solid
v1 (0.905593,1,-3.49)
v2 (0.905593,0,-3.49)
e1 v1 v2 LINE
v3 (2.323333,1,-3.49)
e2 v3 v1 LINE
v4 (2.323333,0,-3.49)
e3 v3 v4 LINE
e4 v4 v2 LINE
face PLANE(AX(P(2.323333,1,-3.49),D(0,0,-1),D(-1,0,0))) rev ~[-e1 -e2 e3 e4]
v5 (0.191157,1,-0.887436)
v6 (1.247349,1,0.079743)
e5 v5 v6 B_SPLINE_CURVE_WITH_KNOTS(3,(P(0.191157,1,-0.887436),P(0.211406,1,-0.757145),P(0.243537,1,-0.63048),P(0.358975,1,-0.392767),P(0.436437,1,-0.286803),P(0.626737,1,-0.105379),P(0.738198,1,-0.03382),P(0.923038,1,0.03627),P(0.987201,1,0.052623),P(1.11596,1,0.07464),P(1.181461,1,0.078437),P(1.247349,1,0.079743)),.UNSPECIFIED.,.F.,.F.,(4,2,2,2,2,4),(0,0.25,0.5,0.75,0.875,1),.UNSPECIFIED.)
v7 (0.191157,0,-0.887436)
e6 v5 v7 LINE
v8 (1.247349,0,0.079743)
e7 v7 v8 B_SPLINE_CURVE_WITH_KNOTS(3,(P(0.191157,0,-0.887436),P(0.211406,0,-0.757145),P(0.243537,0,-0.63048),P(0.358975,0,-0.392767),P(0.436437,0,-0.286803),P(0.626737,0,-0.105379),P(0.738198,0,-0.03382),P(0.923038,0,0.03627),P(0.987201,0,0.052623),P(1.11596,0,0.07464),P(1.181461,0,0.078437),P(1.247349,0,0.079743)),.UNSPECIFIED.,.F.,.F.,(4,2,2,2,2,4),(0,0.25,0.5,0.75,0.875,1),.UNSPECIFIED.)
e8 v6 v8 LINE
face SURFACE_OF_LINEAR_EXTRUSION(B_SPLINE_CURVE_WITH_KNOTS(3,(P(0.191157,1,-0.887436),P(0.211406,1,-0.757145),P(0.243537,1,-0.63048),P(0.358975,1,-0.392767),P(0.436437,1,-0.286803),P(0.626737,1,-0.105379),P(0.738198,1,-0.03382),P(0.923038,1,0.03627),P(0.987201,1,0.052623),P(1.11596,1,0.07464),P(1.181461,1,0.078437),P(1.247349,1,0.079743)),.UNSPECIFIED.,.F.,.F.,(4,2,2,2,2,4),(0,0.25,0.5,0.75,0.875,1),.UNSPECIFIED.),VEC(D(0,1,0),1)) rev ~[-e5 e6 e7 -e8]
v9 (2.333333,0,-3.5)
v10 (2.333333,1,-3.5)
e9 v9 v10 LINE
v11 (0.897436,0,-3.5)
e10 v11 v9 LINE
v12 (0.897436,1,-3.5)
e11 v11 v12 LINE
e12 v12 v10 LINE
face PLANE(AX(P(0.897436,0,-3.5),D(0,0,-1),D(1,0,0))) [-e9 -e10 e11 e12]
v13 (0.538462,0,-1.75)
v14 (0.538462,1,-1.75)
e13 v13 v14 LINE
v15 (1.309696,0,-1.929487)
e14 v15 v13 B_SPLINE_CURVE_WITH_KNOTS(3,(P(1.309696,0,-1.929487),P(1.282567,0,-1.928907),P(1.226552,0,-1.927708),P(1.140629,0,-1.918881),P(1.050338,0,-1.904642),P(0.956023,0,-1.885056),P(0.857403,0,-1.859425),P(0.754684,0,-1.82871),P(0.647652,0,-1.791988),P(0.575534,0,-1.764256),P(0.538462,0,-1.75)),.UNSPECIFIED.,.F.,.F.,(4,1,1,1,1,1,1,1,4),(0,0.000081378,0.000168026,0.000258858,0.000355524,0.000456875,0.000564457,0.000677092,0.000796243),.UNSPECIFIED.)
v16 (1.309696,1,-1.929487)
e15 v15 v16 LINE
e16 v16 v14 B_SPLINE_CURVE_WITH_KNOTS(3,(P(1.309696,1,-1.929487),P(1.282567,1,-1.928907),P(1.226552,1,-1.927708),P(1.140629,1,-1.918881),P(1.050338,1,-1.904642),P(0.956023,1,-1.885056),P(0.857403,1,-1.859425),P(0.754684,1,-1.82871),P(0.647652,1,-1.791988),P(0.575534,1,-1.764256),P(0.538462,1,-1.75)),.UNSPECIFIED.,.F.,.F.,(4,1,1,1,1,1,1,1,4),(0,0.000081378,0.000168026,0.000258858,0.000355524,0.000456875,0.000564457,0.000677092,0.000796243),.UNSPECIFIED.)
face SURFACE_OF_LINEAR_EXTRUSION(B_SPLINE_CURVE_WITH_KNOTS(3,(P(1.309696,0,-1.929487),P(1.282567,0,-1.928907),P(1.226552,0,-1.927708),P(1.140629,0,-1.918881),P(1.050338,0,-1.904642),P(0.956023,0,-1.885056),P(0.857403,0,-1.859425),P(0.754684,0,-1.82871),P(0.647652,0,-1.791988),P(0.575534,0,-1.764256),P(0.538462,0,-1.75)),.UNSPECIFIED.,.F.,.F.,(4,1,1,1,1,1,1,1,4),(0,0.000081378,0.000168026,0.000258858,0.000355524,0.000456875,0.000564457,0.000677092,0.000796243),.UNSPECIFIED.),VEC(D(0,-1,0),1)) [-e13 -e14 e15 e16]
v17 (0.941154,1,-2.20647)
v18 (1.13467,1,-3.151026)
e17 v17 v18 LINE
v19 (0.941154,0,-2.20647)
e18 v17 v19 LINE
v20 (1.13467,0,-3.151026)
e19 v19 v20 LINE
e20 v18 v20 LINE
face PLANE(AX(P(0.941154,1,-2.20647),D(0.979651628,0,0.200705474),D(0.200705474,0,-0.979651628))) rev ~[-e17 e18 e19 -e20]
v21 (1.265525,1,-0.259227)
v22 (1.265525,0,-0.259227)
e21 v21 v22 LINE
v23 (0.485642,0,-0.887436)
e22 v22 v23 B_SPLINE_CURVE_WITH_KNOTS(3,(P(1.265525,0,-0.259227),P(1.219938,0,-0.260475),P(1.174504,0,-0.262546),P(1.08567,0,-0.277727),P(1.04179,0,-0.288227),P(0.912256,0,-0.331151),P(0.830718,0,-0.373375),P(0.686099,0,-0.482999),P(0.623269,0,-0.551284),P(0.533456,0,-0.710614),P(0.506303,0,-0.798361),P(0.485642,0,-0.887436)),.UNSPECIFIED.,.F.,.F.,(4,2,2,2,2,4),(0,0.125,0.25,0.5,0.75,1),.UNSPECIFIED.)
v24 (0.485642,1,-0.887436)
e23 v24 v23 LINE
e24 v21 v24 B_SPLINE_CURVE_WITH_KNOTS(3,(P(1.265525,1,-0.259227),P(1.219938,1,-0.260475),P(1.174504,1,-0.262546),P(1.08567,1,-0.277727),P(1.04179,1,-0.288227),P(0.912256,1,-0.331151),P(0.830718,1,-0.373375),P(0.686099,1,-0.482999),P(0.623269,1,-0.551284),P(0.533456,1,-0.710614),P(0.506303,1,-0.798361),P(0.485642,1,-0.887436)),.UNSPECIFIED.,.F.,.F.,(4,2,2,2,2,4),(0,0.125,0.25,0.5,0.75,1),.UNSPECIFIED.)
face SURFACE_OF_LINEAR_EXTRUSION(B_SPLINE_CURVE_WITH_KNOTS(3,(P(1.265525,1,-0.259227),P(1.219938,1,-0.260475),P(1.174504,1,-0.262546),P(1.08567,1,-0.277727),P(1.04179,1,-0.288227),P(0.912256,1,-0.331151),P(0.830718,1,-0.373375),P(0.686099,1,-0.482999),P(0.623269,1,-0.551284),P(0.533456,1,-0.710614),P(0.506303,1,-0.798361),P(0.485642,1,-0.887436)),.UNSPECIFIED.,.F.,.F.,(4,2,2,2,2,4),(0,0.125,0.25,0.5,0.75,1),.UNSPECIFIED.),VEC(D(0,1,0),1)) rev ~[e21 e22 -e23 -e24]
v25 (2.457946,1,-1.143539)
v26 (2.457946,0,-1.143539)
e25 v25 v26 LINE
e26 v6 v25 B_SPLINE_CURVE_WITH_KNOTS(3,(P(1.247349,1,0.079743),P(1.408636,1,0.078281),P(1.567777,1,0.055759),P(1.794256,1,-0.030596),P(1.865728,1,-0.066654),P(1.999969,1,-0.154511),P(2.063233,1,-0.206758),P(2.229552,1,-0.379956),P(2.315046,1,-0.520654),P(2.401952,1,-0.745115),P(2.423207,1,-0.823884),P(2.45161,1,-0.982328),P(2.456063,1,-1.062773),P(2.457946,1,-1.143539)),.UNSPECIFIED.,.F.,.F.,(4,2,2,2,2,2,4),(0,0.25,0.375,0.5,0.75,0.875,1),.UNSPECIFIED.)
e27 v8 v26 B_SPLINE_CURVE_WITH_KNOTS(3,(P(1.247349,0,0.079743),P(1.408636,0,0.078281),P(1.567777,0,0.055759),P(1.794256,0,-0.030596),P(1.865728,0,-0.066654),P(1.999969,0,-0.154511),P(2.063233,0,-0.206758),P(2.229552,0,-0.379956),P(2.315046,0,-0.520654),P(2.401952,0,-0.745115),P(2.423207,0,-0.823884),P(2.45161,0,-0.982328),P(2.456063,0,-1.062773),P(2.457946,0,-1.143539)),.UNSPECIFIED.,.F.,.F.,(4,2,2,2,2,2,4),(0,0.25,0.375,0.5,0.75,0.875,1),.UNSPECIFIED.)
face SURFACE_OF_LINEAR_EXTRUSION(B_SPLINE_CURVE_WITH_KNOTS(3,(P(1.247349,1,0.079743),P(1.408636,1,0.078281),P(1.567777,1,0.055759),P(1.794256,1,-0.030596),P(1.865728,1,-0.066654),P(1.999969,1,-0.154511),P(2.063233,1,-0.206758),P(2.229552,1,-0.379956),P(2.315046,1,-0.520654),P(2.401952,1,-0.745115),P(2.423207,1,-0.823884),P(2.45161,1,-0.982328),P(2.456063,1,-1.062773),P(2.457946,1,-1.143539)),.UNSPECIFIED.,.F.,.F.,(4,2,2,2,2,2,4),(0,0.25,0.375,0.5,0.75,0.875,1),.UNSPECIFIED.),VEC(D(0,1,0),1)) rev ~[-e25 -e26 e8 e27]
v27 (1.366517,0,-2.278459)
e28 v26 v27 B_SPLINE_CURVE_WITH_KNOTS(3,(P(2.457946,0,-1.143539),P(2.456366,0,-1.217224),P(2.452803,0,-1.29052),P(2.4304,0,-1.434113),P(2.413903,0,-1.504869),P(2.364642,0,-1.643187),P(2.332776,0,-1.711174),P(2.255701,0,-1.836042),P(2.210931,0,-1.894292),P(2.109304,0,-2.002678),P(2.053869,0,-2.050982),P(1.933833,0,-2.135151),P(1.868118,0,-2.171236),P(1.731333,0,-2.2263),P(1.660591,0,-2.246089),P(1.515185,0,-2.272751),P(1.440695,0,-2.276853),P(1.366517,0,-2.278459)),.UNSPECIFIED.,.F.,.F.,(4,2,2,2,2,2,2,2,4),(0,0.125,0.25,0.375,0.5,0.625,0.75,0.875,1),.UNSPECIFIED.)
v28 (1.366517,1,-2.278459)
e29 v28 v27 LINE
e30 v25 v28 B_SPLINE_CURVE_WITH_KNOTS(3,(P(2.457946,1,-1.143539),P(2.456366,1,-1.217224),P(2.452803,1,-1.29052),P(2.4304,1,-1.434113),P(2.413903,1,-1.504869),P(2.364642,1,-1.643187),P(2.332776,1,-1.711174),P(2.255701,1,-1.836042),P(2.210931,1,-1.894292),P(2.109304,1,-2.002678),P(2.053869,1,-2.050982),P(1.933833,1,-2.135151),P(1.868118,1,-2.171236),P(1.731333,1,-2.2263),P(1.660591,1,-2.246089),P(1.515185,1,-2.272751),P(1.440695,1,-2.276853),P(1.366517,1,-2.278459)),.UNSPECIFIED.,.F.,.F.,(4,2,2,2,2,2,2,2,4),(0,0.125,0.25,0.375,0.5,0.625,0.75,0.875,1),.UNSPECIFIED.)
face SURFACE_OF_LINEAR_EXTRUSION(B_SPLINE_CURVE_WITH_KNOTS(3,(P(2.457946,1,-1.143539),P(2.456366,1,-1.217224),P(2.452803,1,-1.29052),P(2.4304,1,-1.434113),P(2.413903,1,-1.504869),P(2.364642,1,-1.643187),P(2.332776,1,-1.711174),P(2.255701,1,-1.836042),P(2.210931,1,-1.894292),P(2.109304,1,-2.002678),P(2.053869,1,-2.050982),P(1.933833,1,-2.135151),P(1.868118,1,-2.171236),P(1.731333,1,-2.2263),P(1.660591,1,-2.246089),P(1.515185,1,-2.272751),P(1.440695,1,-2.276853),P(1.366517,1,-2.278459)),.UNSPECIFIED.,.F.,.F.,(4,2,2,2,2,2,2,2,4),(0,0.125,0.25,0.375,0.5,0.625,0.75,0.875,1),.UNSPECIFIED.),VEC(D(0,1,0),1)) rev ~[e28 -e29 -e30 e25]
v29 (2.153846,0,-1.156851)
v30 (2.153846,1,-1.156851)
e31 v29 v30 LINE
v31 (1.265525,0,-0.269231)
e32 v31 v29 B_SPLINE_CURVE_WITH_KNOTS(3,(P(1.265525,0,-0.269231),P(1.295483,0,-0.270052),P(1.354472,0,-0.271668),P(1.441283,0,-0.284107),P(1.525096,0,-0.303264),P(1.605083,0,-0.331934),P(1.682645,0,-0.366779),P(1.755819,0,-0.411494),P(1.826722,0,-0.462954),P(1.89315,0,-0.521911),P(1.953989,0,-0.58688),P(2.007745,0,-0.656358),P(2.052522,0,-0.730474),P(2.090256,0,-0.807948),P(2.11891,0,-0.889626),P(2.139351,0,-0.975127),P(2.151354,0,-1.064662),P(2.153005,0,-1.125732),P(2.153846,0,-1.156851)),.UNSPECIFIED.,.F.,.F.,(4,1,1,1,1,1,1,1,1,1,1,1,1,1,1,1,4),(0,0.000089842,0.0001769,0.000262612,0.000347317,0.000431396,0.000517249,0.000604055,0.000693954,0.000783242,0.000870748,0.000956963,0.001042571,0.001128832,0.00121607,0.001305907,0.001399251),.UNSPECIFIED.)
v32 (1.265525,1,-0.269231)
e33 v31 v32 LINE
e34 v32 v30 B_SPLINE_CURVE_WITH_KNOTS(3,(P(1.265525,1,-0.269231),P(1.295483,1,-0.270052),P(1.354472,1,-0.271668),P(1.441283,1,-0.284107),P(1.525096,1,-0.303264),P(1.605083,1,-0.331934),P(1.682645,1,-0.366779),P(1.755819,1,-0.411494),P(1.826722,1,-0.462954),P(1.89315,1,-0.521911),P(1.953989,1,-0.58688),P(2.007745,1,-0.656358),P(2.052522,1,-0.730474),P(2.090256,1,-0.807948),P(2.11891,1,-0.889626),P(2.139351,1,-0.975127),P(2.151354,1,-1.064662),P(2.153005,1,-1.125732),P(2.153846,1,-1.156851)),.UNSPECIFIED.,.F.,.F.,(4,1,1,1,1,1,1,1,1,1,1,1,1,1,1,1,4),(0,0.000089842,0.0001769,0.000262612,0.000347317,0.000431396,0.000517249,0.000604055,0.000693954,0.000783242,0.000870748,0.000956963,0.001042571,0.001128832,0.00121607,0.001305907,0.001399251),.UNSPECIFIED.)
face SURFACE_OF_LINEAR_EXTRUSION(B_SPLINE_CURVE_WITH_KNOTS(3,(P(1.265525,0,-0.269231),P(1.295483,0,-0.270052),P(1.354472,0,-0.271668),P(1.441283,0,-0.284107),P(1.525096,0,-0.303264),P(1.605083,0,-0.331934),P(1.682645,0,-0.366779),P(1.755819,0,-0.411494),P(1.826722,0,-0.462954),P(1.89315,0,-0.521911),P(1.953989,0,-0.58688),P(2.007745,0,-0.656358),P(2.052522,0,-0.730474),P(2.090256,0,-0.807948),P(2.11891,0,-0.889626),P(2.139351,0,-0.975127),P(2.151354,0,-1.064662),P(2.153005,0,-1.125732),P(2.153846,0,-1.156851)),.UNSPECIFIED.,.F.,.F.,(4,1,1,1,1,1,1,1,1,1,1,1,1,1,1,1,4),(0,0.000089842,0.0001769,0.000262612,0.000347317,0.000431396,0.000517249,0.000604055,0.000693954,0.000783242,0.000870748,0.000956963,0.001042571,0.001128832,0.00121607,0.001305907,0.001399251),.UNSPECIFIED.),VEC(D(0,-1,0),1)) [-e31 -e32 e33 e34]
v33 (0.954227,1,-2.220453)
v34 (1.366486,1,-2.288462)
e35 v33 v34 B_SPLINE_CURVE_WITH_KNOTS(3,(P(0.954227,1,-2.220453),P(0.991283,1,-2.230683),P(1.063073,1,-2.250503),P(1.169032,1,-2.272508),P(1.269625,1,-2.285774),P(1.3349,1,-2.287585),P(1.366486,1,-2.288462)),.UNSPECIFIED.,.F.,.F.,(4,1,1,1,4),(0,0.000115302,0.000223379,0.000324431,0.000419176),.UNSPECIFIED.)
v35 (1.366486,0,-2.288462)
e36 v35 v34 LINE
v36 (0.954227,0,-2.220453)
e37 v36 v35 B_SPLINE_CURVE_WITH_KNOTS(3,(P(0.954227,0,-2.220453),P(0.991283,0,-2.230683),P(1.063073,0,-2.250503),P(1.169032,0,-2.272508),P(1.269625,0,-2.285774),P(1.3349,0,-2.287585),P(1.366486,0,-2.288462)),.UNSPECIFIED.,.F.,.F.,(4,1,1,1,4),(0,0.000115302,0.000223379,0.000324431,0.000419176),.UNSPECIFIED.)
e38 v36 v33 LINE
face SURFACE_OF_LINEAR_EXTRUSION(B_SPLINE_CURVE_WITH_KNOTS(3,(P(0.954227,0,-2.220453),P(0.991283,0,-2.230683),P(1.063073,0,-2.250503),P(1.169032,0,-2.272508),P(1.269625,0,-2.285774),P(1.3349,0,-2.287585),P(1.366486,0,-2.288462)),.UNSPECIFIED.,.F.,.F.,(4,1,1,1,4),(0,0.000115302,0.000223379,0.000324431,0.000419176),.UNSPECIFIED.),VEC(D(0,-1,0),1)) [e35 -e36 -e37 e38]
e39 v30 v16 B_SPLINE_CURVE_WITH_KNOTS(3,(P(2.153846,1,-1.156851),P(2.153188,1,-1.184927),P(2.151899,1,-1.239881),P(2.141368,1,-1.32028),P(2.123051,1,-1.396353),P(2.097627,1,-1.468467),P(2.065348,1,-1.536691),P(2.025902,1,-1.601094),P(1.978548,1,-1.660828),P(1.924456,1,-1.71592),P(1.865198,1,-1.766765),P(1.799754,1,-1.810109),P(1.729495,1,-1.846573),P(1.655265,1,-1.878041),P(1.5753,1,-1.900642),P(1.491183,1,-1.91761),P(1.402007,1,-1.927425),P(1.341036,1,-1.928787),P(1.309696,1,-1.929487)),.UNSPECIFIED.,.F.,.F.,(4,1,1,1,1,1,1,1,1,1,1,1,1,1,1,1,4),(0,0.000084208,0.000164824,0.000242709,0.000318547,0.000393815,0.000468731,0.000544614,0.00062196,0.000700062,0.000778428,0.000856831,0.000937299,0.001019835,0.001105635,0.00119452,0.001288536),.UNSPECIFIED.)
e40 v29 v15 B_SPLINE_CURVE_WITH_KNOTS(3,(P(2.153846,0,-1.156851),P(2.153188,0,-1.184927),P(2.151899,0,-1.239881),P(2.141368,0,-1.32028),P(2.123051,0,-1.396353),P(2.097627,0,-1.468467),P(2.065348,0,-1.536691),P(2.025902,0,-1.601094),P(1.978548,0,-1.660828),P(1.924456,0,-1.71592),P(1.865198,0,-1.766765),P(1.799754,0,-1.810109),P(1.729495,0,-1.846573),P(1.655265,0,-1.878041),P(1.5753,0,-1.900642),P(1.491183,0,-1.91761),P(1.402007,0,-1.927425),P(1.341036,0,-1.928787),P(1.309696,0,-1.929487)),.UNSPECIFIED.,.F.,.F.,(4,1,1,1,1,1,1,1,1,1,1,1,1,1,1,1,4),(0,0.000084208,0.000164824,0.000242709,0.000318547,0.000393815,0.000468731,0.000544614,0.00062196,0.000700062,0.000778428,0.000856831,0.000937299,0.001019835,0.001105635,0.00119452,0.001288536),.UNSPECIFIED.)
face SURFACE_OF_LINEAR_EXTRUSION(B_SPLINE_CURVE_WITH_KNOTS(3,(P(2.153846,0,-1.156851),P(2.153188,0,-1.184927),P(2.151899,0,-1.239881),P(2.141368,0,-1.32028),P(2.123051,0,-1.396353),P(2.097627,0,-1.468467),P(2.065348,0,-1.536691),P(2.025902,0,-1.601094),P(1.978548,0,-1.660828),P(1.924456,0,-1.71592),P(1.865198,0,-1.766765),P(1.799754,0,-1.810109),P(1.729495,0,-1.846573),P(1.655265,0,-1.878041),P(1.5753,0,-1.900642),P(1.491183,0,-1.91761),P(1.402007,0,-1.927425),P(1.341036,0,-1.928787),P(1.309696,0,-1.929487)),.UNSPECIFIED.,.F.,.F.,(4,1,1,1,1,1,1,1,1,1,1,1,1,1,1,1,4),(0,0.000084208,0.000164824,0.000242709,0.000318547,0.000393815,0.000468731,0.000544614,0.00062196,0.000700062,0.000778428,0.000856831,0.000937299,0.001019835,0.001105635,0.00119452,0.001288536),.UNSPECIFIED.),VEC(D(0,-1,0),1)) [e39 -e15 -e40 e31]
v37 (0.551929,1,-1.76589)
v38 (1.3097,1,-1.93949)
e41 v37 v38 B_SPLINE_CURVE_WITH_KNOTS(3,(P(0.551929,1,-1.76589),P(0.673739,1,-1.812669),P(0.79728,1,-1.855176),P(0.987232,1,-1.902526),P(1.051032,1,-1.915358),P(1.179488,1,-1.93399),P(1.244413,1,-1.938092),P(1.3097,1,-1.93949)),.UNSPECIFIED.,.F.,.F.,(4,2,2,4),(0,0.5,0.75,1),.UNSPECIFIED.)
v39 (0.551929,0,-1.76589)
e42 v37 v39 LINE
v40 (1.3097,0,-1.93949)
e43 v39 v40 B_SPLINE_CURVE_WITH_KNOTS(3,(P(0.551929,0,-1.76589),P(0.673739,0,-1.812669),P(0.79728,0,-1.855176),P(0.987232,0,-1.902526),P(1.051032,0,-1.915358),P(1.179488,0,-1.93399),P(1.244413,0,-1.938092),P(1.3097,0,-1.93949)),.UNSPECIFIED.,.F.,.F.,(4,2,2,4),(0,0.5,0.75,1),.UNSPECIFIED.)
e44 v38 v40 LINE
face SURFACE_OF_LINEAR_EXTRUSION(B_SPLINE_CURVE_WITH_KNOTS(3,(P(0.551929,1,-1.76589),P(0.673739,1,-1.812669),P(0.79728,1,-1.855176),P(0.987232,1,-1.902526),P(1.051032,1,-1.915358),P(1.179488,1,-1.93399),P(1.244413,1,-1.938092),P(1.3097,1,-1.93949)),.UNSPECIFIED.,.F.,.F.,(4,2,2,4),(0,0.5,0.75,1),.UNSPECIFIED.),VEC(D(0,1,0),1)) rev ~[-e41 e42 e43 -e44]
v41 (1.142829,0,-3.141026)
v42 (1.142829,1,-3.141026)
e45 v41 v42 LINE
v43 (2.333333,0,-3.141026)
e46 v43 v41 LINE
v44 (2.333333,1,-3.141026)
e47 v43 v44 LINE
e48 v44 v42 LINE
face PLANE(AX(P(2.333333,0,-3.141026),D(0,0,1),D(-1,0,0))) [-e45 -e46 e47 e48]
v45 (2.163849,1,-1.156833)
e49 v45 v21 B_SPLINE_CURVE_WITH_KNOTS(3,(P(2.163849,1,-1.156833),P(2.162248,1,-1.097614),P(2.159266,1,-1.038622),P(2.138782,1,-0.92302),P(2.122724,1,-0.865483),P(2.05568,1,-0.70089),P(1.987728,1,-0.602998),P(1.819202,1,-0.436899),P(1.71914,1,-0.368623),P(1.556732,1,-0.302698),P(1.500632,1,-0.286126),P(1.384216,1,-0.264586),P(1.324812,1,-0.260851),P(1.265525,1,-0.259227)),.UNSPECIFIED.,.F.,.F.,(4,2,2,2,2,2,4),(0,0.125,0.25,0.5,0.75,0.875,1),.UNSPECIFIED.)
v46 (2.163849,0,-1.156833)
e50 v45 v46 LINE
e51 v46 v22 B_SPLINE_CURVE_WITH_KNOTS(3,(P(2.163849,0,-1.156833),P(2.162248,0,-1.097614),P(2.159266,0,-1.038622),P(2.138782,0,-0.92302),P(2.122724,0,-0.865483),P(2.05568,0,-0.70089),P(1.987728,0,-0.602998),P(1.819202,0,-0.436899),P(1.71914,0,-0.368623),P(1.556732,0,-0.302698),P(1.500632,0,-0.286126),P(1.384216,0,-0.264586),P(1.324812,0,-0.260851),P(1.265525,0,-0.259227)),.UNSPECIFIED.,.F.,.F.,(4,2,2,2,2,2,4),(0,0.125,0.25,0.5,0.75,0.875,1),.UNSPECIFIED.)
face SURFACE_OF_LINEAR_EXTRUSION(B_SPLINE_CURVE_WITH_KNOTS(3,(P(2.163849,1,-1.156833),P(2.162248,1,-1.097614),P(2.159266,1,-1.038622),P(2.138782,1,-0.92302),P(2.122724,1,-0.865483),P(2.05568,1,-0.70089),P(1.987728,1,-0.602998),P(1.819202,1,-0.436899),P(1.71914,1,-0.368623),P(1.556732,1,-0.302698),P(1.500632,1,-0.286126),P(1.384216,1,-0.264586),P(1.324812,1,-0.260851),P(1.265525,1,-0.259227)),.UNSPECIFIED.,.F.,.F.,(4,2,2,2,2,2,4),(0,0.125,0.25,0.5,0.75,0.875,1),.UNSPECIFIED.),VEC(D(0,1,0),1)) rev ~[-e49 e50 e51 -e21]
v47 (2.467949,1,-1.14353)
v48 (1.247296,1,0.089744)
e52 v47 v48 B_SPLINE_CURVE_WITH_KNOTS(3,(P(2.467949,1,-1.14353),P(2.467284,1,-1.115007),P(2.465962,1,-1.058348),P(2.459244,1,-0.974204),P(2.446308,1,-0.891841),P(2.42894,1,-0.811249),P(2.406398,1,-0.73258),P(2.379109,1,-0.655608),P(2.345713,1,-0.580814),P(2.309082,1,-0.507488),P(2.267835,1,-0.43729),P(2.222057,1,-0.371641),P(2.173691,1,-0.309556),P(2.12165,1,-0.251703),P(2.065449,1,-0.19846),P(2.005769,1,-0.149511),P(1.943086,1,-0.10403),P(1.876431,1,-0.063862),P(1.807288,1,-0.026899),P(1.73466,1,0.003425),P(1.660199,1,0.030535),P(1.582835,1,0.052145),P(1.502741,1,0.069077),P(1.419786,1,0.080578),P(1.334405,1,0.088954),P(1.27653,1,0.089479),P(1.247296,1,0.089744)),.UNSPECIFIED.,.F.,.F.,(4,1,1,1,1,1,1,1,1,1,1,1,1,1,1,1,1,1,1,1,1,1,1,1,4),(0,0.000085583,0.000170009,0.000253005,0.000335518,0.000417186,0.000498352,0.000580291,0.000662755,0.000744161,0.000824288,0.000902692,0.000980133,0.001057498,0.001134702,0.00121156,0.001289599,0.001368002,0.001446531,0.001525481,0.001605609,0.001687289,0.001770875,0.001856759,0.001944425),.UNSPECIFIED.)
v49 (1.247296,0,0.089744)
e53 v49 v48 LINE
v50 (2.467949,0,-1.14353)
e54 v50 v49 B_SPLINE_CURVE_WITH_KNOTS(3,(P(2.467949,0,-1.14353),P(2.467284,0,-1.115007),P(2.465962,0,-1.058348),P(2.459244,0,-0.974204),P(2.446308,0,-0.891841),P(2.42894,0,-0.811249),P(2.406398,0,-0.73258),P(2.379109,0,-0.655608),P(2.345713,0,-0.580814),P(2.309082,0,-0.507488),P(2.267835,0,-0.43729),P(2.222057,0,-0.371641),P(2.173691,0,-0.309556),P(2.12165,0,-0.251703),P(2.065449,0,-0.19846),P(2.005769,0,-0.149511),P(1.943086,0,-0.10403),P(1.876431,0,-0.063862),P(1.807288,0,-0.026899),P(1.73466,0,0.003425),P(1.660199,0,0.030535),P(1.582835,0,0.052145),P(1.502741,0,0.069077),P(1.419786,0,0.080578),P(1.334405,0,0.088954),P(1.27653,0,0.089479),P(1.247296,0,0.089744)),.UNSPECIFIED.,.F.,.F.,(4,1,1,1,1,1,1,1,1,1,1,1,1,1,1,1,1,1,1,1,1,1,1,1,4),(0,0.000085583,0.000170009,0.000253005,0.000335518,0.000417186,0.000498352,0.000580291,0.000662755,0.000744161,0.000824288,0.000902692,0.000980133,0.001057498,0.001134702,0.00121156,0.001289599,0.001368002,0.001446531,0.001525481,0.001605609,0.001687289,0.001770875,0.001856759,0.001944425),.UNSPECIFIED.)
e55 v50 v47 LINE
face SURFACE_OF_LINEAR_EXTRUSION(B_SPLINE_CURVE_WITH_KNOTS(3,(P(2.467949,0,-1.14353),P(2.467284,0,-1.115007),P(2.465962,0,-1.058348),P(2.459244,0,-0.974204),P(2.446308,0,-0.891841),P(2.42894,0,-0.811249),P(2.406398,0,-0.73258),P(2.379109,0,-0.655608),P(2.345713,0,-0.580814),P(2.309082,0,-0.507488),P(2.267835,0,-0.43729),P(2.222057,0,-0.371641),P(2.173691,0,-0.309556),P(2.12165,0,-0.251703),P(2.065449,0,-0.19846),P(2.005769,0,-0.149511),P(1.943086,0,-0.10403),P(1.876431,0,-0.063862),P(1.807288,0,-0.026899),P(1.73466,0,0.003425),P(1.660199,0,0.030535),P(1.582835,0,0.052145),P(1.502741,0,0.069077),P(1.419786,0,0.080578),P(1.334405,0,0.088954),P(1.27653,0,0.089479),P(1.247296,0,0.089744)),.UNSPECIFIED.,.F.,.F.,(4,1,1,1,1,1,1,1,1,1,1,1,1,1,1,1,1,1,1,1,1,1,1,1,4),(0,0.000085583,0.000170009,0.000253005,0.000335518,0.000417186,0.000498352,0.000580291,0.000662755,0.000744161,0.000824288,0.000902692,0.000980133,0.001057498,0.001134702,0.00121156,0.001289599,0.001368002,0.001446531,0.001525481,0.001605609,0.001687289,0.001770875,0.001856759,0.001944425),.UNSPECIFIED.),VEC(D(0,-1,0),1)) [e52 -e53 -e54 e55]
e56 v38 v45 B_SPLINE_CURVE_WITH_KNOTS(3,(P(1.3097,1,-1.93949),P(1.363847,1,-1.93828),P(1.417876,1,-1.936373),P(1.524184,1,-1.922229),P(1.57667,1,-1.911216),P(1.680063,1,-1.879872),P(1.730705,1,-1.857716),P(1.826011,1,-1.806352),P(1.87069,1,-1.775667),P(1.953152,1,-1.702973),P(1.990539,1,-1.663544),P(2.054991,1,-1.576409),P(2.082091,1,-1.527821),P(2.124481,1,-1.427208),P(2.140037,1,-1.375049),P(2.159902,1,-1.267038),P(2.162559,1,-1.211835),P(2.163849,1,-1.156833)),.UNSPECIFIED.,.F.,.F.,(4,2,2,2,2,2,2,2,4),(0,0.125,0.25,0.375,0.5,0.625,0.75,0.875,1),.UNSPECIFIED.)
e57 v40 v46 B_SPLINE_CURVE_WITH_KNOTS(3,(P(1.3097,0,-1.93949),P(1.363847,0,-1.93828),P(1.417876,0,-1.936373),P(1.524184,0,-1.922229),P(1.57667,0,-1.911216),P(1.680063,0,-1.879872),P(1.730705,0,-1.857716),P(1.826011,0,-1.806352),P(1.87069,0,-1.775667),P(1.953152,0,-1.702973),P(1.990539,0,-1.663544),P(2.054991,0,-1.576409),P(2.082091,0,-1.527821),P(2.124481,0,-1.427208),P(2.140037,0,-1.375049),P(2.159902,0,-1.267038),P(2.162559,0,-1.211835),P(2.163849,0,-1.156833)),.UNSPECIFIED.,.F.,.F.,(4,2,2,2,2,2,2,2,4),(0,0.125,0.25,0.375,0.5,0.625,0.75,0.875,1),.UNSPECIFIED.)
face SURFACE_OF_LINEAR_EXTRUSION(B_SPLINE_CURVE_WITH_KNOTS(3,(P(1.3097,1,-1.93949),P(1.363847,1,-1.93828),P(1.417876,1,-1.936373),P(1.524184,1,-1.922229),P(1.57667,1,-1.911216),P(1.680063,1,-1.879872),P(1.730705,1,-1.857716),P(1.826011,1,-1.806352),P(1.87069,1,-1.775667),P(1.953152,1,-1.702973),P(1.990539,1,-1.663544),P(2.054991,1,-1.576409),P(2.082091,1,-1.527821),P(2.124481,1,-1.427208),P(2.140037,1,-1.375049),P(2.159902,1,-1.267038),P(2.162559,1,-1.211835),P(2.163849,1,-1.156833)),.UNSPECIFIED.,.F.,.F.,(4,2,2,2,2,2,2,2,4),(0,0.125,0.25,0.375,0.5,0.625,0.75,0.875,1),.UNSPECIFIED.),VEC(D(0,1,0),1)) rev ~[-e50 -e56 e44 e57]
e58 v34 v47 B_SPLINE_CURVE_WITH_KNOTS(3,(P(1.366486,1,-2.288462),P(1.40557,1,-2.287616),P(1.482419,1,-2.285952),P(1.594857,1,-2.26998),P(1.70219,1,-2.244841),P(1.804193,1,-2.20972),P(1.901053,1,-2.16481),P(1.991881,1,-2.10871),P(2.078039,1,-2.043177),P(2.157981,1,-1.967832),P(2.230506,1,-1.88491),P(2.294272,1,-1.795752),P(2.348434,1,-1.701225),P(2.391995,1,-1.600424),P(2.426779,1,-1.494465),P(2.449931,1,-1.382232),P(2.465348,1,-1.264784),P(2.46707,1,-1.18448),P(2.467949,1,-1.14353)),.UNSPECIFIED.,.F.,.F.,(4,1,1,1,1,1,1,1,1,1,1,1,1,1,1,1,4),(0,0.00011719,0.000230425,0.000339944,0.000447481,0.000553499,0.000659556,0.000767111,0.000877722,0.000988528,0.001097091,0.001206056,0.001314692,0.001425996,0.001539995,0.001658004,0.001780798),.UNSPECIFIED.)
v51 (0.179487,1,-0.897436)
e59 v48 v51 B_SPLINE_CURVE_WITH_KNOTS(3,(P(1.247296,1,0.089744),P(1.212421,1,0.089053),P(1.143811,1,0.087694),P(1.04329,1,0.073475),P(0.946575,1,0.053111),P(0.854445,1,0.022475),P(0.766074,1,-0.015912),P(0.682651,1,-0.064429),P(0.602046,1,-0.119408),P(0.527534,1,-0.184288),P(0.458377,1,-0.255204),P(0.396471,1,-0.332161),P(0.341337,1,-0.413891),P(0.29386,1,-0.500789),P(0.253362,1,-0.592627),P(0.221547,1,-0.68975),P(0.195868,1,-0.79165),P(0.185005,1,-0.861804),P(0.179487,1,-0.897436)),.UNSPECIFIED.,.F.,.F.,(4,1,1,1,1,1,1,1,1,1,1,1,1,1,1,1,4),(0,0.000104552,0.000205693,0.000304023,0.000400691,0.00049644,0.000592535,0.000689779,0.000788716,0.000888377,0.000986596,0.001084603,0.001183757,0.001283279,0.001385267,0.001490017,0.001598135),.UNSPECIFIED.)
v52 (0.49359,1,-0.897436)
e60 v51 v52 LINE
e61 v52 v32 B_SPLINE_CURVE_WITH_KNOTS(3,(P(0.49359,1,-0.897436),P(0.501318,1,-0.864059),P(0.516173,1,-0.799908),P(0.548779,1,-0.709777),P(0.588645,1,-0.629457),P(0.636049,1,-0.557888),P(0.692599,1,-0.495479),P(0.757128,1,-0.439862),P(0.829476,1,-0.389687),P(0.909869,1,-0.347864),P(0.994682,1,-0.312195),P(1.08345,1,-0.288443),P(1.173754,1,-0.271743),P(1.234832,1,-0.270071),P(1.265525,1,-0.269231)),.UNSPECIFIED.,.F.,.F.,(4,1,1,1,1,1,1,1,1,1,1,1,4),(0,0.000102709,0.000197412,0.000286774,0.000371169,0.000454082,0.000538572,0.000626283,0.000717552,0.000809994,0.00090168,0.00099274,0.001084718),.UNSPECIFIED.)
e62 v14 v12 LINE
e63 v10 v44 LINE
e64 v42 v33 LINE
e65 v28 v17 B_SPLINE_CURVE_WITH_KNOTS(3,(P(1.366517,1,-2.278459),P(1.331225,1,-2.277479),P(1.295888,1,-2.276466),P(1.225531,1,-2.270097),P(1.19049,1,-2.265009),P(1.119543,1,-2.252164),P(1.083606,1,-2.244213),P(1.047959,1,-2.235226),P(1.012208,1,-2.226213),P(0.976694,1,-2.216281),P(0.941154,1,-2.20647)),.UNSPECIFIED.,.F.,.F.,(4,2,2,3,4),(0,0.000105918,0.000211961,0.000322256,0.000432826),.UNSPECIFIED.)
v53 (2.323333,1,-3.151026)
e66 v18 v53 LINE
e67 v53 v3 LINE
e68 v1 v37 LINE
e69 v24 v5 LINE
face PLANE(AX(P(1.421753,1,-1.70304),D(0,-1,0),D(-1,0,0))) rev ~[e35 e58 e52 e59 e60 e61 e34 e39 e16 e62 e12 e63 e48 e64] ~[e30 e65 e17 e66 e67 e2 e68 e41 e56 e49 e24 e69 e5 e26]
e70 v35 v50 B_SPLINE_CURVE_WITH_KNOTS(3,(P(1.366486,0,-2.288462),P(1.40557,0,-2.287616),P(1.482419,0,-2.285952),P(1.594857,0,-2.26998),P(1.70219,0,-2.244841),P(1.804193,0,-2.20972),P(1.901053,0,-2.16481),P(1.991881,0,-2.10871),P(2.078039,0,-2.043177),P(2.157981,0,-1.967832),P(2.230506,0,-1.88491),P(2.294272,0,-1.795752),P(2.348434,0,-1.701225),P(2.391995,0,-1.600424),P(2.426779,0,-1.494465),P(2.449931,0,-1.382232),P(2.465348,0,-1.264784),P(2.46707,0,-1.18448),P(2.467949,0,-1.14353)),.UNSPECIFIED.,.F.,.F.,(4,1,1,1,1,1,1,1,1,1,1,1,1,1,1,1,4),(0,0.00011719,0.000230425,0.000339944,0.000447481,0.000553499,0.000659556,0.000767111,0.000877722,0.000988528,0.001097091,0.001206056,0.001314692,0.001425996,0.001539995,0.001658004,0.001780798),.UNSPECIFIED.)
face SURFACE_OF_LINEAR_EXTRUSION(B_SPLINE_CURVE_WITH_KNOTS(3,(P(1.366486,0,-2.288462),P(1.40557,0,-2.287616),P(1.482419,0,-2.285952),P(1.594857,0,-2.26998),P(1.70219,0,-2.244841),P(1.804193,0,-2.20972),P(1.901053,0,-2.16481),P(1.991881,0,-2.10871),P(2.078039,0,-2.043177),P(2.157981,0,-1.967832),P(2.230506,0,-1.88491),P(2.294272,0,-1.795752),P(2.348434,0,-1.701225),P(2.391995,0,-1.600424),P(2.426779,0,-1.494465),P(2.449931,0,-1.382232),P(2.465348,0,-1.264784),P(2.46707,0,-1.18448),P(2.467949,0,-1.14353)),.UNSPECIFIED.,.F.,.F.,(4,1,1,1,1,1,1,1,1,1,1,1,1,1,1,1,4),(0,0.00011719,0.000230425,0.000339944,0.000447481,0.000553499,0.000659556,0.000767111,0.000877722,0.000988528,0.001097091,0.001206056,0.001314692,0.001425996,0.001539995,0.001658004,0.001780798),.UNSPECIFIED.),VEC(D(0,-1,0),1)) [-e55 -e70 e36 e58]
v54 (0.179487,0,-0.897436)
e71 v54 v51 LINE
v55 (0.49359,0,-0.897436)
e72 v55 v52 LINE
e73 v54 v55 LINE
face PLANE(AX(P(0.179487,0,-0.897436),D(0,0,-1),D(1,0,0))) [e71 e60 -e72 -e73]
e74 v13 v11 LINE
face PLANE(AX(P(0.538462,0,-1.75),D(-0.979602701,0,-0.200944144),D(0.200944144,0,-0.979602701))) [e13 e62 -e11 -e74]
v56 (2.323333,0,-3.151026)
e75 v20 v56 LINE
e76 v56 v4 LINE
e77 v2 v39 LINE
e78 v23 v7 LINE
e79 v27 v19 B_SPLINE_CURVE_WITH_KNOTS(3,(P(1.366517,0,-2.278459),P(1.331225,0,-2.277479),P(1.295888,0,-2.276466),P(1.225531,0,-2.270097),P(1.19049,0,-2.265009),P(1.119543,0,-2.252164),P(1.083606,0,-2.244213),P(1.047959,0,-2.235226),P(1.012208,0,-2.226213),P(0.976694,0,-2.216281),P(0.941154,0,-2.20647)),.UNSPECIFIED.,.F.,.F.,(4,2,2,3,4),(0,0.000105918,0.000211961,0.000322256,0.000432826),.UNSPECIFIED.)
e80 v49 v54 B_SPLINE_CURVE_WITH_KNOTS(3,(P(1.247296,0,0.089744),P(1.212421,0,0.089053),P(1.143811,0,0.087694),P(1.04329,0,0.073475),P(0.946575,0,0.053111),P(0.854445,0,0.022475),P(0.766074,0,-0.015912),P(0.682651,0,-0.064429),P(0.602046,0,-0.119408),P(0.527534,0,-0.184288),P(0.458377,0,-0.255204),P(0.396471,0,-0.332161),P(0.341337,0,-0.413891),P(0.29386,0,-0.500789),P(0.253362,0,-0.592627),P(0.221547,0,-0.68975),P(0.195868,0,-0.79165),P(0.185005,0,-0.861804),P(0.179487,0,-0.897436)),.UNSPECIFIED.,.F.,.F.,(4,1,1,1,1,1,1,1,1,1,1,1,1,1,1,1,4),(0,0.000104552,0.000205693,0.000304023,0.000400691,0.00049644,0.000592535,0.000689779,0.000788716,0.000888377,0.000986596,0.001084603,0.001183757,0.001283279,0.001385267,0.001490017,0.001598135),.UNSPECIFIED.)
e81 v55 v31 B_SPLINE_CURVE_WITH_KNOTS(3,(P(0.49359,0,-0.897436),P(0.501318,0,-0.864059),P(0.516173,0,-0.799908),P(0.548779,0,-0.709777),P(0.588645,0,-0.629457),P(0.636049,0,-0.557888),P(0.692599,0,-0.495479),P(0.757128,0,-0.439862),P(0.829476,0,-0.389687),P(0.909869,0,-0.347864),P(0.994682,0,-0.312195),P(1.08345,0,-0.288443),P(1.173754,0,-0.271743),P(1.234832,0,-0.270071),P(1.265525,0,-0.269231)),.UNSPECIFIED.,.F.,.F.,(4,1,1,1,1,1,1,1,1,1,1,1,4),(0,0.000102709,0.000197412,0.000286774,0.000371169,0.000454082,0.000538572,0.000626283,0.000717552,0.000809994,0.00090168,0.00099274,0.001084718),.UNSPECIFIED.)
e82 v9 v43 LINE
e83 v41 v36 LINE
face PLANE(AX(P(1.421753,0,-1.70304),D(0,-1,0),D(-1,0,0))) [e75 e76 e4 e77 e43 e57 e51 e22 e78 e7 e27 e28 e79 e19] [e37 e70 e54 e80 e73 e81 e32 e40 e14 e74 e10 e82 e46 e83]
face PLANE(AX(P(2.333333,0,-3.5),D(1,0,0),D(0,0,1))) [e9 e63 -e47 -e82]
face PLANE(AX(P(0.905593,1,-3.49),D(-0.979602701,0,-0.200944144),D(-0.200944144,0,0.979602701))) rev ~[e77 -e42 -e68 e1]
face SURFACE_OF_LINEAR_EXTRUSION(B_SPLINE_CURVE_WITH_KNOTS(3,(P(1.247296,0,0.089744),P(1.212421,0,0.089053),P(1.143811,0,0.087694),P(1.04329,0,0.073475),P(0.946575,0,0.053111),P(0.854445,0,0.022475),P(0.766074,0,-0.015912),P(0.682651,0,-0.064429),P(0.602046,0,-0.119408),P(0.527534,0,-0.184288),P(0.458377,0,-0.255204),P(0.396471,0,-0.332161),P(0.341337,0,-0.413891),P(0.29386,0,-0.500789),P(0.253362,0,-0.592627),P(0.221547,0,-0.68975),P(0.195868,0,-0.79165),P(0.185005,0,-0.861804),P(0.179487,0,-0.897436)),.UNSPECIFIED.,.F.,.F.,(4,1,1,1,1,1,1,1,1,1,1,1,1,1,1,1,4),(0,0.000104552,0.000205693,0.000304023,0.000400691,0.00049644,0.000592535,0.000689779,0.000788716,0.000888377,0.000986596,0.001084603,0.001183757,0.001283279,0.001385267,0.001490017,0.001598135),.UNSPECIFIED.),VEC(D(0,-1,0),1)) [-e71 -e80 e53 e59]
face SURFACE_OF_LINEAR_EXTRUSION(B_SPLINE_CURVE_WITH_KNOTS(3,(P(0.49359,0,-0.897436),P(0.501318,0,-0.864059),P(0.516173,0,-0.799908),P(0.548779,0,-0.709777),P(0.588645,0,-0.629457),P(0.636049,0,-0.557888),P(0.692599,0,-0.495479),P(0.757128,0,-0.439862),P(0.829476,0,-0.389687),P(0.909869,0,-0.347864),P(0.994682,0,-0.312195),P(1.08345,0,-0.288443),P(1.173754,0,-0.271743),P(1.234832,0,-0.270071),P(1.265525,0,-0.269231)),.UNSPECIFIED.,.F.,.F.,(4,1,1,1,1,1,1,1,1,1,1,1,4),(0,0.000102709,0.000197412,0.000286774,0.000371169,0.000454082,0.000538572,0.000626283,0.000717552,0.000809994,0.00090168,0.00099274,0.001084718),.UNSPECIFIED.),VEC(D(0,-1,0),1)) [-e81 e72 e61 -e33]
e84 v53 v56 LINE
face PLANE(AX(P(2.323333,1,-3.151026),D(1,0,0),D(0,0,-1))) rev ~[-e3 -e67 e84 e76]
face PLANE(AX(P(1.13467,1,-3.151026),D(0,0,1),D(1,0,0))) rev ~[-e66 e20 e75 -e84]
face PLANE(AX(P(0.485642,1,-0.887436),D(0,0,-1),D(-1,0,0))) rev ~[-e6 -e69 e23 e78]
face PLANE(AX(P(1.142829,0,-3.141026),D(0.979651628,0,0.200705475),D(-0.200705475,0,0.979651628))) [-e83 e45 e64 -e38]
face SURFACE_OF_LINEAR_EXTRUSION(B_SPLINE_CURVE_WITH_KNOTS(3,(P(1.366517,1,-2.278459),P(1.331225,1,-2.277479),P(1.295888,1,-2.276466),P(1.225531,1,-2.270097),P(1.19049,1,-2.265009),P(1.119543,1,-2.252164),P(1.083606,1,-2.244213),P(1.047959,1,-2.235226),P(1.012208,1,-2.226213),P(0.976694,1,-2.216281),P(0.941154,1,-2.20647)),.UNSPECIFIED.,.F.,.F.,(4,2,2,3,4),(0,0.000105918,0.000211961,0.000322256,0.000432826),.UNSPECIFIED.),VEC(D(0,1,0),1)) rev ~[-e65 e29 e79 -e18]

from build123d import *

# Parameters (mm, degrees)
BOSS_EXTRUDE1_DEPTH = 1
CUT_EXTRUDE1_DEPTH  = 1


with BuildPart() as part:
    # Sketch1 → Boss-Extrude1 (new body)
    with BuildSketch(Plane(origin=(0, 0, 0), x_dir=(1, 0, 0), z_dir=(0, 1, 0))):
        with BuildLine():
            Line((2.333333333, 3.5), (2.333333333, 3.141025641))
            Line((2.333333333, 3.141025641), (1.142828526, 3.141025641))
            Line((1.142828526, 3.141025641), (0.954226763, 2.220452724))
            add(Edge.make_bspline(
                [(0.954226763, 2.220452724), (0.991282637, 2.230682996), (1.063072533, 2.25050253), (1.169032394, 2.2725083), (1.269624597, 2.285773744), (1.334899968, 2.287585055), (1.366486378, 2.288461538)],
                knots=[0, 0, 0, 0, 0.000115302, 0.000223379, 0.000324431, 0.000419176, 0.000419176, 0.000419176, 0.000419176], degree=3))
            add(Edge.make_bspline(
                [(1.366486378, 2.288461538), (1.405570118, 2.287615603), (1.482418515, 2.285952282), (1.594857462, 2.269980432), (1.702190355, 2.244840518), (1.804192726, 2.209719996), (1.901053276, 2.164810263), (1.991880838, 2.108710322), (2.078038751, 2.043176991), (2.157981345, 1.967831979), (2.230505653, 1.884910363), (2.294271643, 1.795752492), (2.348434233, 1.701224829), (2.391994988, 1.600424221), (2.426779322, 1.494465067), (2.449931317, 1.382232485), (2.465348026, 1.264784365), (2.467070412, 1.184479795), (2.467948718, 1.143529647)],
                knots=[0, 0, 0, 0, 0.00011719, 0.000230425, 0.000339944, 0.000447481, 0.000553499, 0.000659556, 0.000767111, 0.000877722, 0.000988528, 0.001097091, 0.001206056, 0.001314692, 0.001425996, 0.001539995, 0.001658004, 0.001780798, 0.001780798, 0.001780798, 0.001780798], degree=3))
            add(Edge.make_bspline(
                [(2.467948718, 1.143529647), (2.467283643, 1.115007427), (2.46596248, 1.05834844), (2.459243892, 0.974204239), (2.446308176, 0.891841406), (2.428940452, 0.811249014), (2.406398034, 0.732579642), (2.37910898, 0.655608114), (2.345712953, 0.580813507), (2.309081578, 0.507488112), (2.2678351, 0.437289605), (2.222056592, 0.371640618), (2.173691101, 0.309556337), (2.121649716, 0.251702604), (2.06544872, 0.198459586), (2.005768754, 0.149511304), (1.943086035, 0.104029974), (1.876430792, 0.063861779), (1.807288309, 0.026898823), (1.734660092, -0.003424715), (1.660199392, -0.030535243), (1.582834516, -0.05214477), (1.502740703, -0.069077325), (1.419785928, -0.080577925), (1.334405258, -0.088954363), (1.276530245, -0.08947872), (1.247295673, -0.08974359)],
                knots=[0, 0, 0, 0, 8.5583e-05, 0.000170009, 0.000253005, 0.000335518, 0.000417186, 0.000498352, 0.000580291, 0.000662755, 0.000744161, 0.000824288, 0.000902692, 0.000980133, 0.001057498, 0.001134702, 0.00121156, 0.001289599, 0.001368002, 0.001446531, 0.001525481, 0.001605609, 0.001687289, 0.001770875, 0.001856759, 0.001944425, 0.001944425, 0.001944425, 0.001944425], degree=3))
            add(Edge.make_bspline(
                [(1.247295673, -0.08974359), (1.212421492, -0.089052752), (1.143810662, -0.08769361), (1.043290095, -0.073475124), (0.946575489, -0.053111208), (0.854445388, -0.022474938), (0.766074124, 0.015912357), (0.682651406, 0.064428528), (0.60204563, 0.119407632), (0.527533593, 0.184287985), (0.45837748, 0.255203667), (0.396470971, 0.332161308), (0.341337394, 0.41389075), (0.293859647, 0.500788904), (0.253361626, 0.592627435), (0.221546638, 0.689750436), (0.195868283, 0.79165044), (0.185004862, 0.86180395), (0.179487179, 0.897435897)],
                knots=[0, 0, 0, 0, 0.000104552, 0.000205693, 0.000304023, 0.000400691, 0.00049644, 0.000592535, 0.000689779, 0.000788716, 0.000888377, 0.000986596, 0.001084603, 0.001183757, 0.001283279, 0.001385267, 0.001490017, 0.001598135, 0.001598135, 0.001598135, 0.001598135], degree=3))
            Line((0.179487179, 0.897435897), (0.493589744, 0.897435897))
            add(Edge.make_bspline(
                [(0.493589744, 0.897435897), (0.501318301, 0.864059445), (0.516173017, 0.79990805), (0.548778766, 0.709776709), (0.588644642, 0.629457485), (0.63604899, 0.557887902), (0.692599021, 0.495478905), (0.757128449, 0.439861843), (0.829476173, 0.389686713), (0.909869402, 0.347863946), (0.994682482, 0.312195193), (1.083449692, 0.288443498), (1.173754038, 0.271742605), (1.234832408, 0.270070844), (1.26552484, 0.269230769)],
                knots=[0, 0, 0, 0, 0.000102709, 0.000197412, 0.000286774, 0.000371169, 0.000454082, 0.000538572, 0.000626283, 0.000717552, 0.000809994, 0.00090168, 0.00099274, 0.001084718, 0.001084718, 0.001084718, 0.001084718], degree=3))
            add(Edge.make_bspline(
                [(1.26552484, 0.269230769), (1.295483284, 0.270051547), (1.354471706, 0.271667666), (1.441283093, 0.284106678), (1.525095967, 0.303264249), (1.605083324, 0.331934104), (1.682644864, 0.366778822), (1.755818634, 0.411493898), (1.826721511, 0.462953917), (1.893149645, 0.521910547), (1.953989094, 0.586880241), (2.007745215, 0.656357635), (2.052522128, 0.730474481), (2.090256237, 0.807947634), (2.118909536, 0.889626191), (2.139350517, 0.975127366), (2.151353576, 1.064662347), (2.153004756, 1.125731656), (2.153846154, 1.156850962)],
                knots=[0, 0, 0, 0, 8.9842e-05, 0.0001769, 0.000262612, 0.000347317, 0.000431396, 0.000517249, 0.000604055, 0.000693954, 0.000783242, 0.000870748, 0.000956963, 0.001042571, 0.001128832, 0.00121607, 0.001305907, 0.001399251, 0.001399251, 0.001399251, 0.001399251], degree=3))
            add(Edge.make_bspline(
                [(2.153846154, 1.156850962), (2.153187674, 1.184926713), (2.151898795, 1.239881002), (2.141368224, 1.320280209), (2.123051252, 1.396353251), (2.097627372, 1.468467485), (2.065347864, 1.536690927), (2.025901552, 1.601093987), (1.978548154, 1.660827821), (1.924456265, 1.715920374), (1.865198224, 1.766765249), (1.799754482, 1.810109336), (1.729494555, 1.846573253), (1.655264956, 1.878041252), (1.575300057, 1.900641997), (1.491183425, 1.917609882), (1.402006717, 1.927425245), (1.341036028, 1.928787134), (1.309695513, 1.929487179)],
                knots=[0, 0, 0, 0, 8.4208e-05, 0.000164824, 0.000242709, 0.000318547, 0.000393815, 0.000468731, 0.000544614, 0.00062196, 0.000700062, 0.000778428, 0.000856831, 0.000937299, 0.001019835, 0.001105635, 0.00119452, 0.001288536, 0.001288536, 0.001288536, 0.001288536], degree=3))
            add(Edge.make_bspline(
                [(1.309695513, 1.929487179), (1.282566584, 1.928906588), (1.226552229, 1.927707815), (1.140629402, 1.918881318), (1.050337679, 1.904642024), (0.956023183, 1.885055776), (0.857402675, 1.859424699), (0.754684275, 1.828710199), (0.647652008, 1.7919882), (0.575534284, 1.764255986), (0.538461538, 1.75)],
                knots=[0, 0, 0, 0, 8.1378e-05, 0.000168026, 0.000258858, 0.000355524, 0.000456875, 0.000564457, 0.000677092, 0.000796243, 0.000796243, 0.000796243, 0.000796243], degree=3))
            Line((0.538461538, 1.75), (0.897435897, 3.5))
            Line((0.897435897, 3.5), (2.333333333, 3.5))
        make_face()
    extrude(amount=BOSS_EXTRUDE1_DEPTH)

    # Sketch2 → Cut-Extrude1 (cut)
    with BuildSketch(Plane(origin=(0, 1, 0), x_dir=(1, 0, 0), z_dir=(0, 1, 0))):
        with BuildLine():
            Line((2.323333333, 3.49), (0.905592836, 3.49))
            Line((0.905592836, 3.49), (0.551929218, 1.765889864))
            add(Edge.make_bspline(
                [(0.551929218, 1.765889864), (0.673738922, 1.812668845), (0.797280125, 1.855176325), (0.987231654, 1.902526184), (1.051031765, 1.915357824), (1.179487858, 1.933989775), (1.244413122, 1.938092349), (1.30970019, 1.939489569)],
                knots=[0, 0, 0, 0, 0.5, 0.5, 0.75, 0.75, 1, 1, 1, 1], degree=3))
            add(Edge.make_bspline(
                [(1.30970019, 1.939489569), (1.363847411, 1.938280095), (1.417876344, 1.936372595), (1.52418389, 1.922228814), (1.576669778, 1.91121568), (1.680062555, 1.879871605), (1.730705353, 1.857715885), (1.826011136, 1.806351504), (1.870689785, 1.775667163), (1.953151897, 1.702973355), (1.990539066, 1.663544334), (2.054990667, 1.576409278), (2.082090779, 1.527820945), (2.124480903, 1.427207864), (2.140037318, 1.375049375), (2.159901605, 1.267037946), (2.162559334, 1.211834677), (2.163849324, 1.156833047)],
                knots=[0, 0, 0, 0, 0.125, 0.125, 0.25, 0.25, 0.375, 0.375, 0.5, 0.5, 0.625, 0.625, 0.75, 0.75, 0.875, 0.875, 1, 1, 1, 1], degree=3))
            add(Edge.make_bspline(
                [(2.163849324, 1.156833047), (2.162248178, 1.09761427), (2.159265902, 1.038622106), (2.138782446, 0.923020004), (2.122724368, 0.865482549), (2.055680296, 0.700889907), (1.987728182, 0.602998249), (1.819201533, 0.436899412), (1.719140439, 0.368622939), (1.556731941, 0.30269818), (1.500632253, 0.28612645), (1.384216314, 0.264586062), (1.324812135, 0.260851324), (1.265524972, 0.259227021)],
                knots=[0, 0, 0, 0, 0.125, 0.125, 0.25, 0.25, 0.5, 0.5, 0.75, 0.75, 0.875, 0.875, 1, 1, 1, 1], degree=3))
            add(Edge.make_bspline(
                [(1.265524972, 0.259227021), (1.219938367, 0.26047476), (1.174503659, 0.262546111), (1.085669918, 0.277726511), (1.041789794, 0.288227027), (0.91225602, 0.331150835), (0.830718342, 0.373374515), (0.686098912, 0.482998896), (0.623269223, 0.551283834), (0.53345612, 0.710614012), (0.506302628, 0.798360651), (0.485641733, 0.887435897)],
                knots=[0, 0, 0, 0, 0.125, 0.125, 0.25, 0.25, 0.5, 0.5, 0.75, 0.75, 1, 1, 1, 1], degree=3))
            Line((0.485641733, 0.887435897), (0.191157055, 0.887435897))
            add(Edge.make_bspline(
                [(0.191157055, 0.887435897), (0.211406368, 0.757145276), (0.243536775, 0.630480169), (0.358974915, 0.39276671), (0.436437315, 0.286803018), (0.626737067, 0.105379466), (0.738197612, 0.033819694), (0.92303835, -0.036270399), (0.987200933, -0.0526225), (1.115960495, -0.074639536), (1.1814612, -0.078437476), (1.247349413, -0.079742692)],
                knots=[0, 0, 0, 0, 0.25, 0.25, 0.5, 0.5, 0.75, 0.75, 0.875, 0.875, 1, 1, 1, 1], degree=3))
            add(Edge.make_bspline(
                [(1.247349413, -0.079742692), (1.408635576, -0.078281394), (1.567776608, -0.055759364), (1.794256491, 0.030595591), (1.865728289, 0.066654088), (1.999969309, 0.154511073), (2.063232666, 0.206757735), (2.229552263, 0.379956122), (2.315046252, 0.520653639), (2.401952228, 0.745114707), (2.423207484, 0.823884447), (2.451609765, 0.982328437), (2.456062908, 1.062772615), (2.457946218, 1.143538993)],
                knots=[0, 0, 0, 0, 0.25, 0.25, 0.375, 0.375, 0.5, 0.5, 0.75, 0.75, 0.875, 0.875, 1, 1, 1, 1], degree=3))
            add(Edge.make_bspline(
                [(2.457946218, 1.143538993), (2.456365789, 1.217224275), (2.452803018, 1.290520305), (2.430400351, 1.434112564), (2.413903031, 1.504868779), (2.364641577, 1.643187072), (2.332775805, 1.711173987), (2.255701345, 1.83604232), (2.210931126, 1.894292256), (2.109303532, 2.002677969), (2.053868914, 2.050982466), (1.933833278, 2.13515087), (1.868118497, 2.171236389), (1.73133317, 2.226299522), (1.660590629, 2.24608908), (1.515184925, 2.272751146), (1.440694762, 2.276852996), (1.366516892, 2.278458536)],
                knots=[0, 0, 0, 0, 0.125, 0.125, 0.25, 0.25, 0.375, 0.375, 0.5, 0.5, 0.625, 0.625, 0.75, 0.75, 0.875, 0.875, 1, 1, 1, 1], degree=3))
            add(Edge.make_bspline(
                [(1.366516892, 2.278458536), (1.331224527, 2.277479205), (1.295887727, 2.276466299), (1.225531386, 2.270097376), (1.19049003, 2.265009201), (1.119542574, 2.252164033), (1.083606152, 2.244213472), (1.047958734, 2.235226423), (1.012208016, 2.22621333), (0.976694104, 2.216281344), (0.941154273, 2.206469616)],
                knots=[0, 0, 0, 0, 0.000105918, 0.000105918, 0.000211961, 0.000211961, 0.000322256, 0.000322256, 0.000322256, 0.000432826, 0.000432826, 0.000432826, 0.000432826], degree=3))
            Line((0.941154273, 2.206469616), (1.134669559, 3.151025641))
            Line((1.134669559, 3.151025641), (2.323333333, 3.151025641))
            Line((2.323333333, 3.151025641), (2.323333333, 3.49))
        make_face()
    extrude(amount=-CUT_EXTRUDE1_DEPTH, mode=Mode.SUBTRACT)


solid = part.part
